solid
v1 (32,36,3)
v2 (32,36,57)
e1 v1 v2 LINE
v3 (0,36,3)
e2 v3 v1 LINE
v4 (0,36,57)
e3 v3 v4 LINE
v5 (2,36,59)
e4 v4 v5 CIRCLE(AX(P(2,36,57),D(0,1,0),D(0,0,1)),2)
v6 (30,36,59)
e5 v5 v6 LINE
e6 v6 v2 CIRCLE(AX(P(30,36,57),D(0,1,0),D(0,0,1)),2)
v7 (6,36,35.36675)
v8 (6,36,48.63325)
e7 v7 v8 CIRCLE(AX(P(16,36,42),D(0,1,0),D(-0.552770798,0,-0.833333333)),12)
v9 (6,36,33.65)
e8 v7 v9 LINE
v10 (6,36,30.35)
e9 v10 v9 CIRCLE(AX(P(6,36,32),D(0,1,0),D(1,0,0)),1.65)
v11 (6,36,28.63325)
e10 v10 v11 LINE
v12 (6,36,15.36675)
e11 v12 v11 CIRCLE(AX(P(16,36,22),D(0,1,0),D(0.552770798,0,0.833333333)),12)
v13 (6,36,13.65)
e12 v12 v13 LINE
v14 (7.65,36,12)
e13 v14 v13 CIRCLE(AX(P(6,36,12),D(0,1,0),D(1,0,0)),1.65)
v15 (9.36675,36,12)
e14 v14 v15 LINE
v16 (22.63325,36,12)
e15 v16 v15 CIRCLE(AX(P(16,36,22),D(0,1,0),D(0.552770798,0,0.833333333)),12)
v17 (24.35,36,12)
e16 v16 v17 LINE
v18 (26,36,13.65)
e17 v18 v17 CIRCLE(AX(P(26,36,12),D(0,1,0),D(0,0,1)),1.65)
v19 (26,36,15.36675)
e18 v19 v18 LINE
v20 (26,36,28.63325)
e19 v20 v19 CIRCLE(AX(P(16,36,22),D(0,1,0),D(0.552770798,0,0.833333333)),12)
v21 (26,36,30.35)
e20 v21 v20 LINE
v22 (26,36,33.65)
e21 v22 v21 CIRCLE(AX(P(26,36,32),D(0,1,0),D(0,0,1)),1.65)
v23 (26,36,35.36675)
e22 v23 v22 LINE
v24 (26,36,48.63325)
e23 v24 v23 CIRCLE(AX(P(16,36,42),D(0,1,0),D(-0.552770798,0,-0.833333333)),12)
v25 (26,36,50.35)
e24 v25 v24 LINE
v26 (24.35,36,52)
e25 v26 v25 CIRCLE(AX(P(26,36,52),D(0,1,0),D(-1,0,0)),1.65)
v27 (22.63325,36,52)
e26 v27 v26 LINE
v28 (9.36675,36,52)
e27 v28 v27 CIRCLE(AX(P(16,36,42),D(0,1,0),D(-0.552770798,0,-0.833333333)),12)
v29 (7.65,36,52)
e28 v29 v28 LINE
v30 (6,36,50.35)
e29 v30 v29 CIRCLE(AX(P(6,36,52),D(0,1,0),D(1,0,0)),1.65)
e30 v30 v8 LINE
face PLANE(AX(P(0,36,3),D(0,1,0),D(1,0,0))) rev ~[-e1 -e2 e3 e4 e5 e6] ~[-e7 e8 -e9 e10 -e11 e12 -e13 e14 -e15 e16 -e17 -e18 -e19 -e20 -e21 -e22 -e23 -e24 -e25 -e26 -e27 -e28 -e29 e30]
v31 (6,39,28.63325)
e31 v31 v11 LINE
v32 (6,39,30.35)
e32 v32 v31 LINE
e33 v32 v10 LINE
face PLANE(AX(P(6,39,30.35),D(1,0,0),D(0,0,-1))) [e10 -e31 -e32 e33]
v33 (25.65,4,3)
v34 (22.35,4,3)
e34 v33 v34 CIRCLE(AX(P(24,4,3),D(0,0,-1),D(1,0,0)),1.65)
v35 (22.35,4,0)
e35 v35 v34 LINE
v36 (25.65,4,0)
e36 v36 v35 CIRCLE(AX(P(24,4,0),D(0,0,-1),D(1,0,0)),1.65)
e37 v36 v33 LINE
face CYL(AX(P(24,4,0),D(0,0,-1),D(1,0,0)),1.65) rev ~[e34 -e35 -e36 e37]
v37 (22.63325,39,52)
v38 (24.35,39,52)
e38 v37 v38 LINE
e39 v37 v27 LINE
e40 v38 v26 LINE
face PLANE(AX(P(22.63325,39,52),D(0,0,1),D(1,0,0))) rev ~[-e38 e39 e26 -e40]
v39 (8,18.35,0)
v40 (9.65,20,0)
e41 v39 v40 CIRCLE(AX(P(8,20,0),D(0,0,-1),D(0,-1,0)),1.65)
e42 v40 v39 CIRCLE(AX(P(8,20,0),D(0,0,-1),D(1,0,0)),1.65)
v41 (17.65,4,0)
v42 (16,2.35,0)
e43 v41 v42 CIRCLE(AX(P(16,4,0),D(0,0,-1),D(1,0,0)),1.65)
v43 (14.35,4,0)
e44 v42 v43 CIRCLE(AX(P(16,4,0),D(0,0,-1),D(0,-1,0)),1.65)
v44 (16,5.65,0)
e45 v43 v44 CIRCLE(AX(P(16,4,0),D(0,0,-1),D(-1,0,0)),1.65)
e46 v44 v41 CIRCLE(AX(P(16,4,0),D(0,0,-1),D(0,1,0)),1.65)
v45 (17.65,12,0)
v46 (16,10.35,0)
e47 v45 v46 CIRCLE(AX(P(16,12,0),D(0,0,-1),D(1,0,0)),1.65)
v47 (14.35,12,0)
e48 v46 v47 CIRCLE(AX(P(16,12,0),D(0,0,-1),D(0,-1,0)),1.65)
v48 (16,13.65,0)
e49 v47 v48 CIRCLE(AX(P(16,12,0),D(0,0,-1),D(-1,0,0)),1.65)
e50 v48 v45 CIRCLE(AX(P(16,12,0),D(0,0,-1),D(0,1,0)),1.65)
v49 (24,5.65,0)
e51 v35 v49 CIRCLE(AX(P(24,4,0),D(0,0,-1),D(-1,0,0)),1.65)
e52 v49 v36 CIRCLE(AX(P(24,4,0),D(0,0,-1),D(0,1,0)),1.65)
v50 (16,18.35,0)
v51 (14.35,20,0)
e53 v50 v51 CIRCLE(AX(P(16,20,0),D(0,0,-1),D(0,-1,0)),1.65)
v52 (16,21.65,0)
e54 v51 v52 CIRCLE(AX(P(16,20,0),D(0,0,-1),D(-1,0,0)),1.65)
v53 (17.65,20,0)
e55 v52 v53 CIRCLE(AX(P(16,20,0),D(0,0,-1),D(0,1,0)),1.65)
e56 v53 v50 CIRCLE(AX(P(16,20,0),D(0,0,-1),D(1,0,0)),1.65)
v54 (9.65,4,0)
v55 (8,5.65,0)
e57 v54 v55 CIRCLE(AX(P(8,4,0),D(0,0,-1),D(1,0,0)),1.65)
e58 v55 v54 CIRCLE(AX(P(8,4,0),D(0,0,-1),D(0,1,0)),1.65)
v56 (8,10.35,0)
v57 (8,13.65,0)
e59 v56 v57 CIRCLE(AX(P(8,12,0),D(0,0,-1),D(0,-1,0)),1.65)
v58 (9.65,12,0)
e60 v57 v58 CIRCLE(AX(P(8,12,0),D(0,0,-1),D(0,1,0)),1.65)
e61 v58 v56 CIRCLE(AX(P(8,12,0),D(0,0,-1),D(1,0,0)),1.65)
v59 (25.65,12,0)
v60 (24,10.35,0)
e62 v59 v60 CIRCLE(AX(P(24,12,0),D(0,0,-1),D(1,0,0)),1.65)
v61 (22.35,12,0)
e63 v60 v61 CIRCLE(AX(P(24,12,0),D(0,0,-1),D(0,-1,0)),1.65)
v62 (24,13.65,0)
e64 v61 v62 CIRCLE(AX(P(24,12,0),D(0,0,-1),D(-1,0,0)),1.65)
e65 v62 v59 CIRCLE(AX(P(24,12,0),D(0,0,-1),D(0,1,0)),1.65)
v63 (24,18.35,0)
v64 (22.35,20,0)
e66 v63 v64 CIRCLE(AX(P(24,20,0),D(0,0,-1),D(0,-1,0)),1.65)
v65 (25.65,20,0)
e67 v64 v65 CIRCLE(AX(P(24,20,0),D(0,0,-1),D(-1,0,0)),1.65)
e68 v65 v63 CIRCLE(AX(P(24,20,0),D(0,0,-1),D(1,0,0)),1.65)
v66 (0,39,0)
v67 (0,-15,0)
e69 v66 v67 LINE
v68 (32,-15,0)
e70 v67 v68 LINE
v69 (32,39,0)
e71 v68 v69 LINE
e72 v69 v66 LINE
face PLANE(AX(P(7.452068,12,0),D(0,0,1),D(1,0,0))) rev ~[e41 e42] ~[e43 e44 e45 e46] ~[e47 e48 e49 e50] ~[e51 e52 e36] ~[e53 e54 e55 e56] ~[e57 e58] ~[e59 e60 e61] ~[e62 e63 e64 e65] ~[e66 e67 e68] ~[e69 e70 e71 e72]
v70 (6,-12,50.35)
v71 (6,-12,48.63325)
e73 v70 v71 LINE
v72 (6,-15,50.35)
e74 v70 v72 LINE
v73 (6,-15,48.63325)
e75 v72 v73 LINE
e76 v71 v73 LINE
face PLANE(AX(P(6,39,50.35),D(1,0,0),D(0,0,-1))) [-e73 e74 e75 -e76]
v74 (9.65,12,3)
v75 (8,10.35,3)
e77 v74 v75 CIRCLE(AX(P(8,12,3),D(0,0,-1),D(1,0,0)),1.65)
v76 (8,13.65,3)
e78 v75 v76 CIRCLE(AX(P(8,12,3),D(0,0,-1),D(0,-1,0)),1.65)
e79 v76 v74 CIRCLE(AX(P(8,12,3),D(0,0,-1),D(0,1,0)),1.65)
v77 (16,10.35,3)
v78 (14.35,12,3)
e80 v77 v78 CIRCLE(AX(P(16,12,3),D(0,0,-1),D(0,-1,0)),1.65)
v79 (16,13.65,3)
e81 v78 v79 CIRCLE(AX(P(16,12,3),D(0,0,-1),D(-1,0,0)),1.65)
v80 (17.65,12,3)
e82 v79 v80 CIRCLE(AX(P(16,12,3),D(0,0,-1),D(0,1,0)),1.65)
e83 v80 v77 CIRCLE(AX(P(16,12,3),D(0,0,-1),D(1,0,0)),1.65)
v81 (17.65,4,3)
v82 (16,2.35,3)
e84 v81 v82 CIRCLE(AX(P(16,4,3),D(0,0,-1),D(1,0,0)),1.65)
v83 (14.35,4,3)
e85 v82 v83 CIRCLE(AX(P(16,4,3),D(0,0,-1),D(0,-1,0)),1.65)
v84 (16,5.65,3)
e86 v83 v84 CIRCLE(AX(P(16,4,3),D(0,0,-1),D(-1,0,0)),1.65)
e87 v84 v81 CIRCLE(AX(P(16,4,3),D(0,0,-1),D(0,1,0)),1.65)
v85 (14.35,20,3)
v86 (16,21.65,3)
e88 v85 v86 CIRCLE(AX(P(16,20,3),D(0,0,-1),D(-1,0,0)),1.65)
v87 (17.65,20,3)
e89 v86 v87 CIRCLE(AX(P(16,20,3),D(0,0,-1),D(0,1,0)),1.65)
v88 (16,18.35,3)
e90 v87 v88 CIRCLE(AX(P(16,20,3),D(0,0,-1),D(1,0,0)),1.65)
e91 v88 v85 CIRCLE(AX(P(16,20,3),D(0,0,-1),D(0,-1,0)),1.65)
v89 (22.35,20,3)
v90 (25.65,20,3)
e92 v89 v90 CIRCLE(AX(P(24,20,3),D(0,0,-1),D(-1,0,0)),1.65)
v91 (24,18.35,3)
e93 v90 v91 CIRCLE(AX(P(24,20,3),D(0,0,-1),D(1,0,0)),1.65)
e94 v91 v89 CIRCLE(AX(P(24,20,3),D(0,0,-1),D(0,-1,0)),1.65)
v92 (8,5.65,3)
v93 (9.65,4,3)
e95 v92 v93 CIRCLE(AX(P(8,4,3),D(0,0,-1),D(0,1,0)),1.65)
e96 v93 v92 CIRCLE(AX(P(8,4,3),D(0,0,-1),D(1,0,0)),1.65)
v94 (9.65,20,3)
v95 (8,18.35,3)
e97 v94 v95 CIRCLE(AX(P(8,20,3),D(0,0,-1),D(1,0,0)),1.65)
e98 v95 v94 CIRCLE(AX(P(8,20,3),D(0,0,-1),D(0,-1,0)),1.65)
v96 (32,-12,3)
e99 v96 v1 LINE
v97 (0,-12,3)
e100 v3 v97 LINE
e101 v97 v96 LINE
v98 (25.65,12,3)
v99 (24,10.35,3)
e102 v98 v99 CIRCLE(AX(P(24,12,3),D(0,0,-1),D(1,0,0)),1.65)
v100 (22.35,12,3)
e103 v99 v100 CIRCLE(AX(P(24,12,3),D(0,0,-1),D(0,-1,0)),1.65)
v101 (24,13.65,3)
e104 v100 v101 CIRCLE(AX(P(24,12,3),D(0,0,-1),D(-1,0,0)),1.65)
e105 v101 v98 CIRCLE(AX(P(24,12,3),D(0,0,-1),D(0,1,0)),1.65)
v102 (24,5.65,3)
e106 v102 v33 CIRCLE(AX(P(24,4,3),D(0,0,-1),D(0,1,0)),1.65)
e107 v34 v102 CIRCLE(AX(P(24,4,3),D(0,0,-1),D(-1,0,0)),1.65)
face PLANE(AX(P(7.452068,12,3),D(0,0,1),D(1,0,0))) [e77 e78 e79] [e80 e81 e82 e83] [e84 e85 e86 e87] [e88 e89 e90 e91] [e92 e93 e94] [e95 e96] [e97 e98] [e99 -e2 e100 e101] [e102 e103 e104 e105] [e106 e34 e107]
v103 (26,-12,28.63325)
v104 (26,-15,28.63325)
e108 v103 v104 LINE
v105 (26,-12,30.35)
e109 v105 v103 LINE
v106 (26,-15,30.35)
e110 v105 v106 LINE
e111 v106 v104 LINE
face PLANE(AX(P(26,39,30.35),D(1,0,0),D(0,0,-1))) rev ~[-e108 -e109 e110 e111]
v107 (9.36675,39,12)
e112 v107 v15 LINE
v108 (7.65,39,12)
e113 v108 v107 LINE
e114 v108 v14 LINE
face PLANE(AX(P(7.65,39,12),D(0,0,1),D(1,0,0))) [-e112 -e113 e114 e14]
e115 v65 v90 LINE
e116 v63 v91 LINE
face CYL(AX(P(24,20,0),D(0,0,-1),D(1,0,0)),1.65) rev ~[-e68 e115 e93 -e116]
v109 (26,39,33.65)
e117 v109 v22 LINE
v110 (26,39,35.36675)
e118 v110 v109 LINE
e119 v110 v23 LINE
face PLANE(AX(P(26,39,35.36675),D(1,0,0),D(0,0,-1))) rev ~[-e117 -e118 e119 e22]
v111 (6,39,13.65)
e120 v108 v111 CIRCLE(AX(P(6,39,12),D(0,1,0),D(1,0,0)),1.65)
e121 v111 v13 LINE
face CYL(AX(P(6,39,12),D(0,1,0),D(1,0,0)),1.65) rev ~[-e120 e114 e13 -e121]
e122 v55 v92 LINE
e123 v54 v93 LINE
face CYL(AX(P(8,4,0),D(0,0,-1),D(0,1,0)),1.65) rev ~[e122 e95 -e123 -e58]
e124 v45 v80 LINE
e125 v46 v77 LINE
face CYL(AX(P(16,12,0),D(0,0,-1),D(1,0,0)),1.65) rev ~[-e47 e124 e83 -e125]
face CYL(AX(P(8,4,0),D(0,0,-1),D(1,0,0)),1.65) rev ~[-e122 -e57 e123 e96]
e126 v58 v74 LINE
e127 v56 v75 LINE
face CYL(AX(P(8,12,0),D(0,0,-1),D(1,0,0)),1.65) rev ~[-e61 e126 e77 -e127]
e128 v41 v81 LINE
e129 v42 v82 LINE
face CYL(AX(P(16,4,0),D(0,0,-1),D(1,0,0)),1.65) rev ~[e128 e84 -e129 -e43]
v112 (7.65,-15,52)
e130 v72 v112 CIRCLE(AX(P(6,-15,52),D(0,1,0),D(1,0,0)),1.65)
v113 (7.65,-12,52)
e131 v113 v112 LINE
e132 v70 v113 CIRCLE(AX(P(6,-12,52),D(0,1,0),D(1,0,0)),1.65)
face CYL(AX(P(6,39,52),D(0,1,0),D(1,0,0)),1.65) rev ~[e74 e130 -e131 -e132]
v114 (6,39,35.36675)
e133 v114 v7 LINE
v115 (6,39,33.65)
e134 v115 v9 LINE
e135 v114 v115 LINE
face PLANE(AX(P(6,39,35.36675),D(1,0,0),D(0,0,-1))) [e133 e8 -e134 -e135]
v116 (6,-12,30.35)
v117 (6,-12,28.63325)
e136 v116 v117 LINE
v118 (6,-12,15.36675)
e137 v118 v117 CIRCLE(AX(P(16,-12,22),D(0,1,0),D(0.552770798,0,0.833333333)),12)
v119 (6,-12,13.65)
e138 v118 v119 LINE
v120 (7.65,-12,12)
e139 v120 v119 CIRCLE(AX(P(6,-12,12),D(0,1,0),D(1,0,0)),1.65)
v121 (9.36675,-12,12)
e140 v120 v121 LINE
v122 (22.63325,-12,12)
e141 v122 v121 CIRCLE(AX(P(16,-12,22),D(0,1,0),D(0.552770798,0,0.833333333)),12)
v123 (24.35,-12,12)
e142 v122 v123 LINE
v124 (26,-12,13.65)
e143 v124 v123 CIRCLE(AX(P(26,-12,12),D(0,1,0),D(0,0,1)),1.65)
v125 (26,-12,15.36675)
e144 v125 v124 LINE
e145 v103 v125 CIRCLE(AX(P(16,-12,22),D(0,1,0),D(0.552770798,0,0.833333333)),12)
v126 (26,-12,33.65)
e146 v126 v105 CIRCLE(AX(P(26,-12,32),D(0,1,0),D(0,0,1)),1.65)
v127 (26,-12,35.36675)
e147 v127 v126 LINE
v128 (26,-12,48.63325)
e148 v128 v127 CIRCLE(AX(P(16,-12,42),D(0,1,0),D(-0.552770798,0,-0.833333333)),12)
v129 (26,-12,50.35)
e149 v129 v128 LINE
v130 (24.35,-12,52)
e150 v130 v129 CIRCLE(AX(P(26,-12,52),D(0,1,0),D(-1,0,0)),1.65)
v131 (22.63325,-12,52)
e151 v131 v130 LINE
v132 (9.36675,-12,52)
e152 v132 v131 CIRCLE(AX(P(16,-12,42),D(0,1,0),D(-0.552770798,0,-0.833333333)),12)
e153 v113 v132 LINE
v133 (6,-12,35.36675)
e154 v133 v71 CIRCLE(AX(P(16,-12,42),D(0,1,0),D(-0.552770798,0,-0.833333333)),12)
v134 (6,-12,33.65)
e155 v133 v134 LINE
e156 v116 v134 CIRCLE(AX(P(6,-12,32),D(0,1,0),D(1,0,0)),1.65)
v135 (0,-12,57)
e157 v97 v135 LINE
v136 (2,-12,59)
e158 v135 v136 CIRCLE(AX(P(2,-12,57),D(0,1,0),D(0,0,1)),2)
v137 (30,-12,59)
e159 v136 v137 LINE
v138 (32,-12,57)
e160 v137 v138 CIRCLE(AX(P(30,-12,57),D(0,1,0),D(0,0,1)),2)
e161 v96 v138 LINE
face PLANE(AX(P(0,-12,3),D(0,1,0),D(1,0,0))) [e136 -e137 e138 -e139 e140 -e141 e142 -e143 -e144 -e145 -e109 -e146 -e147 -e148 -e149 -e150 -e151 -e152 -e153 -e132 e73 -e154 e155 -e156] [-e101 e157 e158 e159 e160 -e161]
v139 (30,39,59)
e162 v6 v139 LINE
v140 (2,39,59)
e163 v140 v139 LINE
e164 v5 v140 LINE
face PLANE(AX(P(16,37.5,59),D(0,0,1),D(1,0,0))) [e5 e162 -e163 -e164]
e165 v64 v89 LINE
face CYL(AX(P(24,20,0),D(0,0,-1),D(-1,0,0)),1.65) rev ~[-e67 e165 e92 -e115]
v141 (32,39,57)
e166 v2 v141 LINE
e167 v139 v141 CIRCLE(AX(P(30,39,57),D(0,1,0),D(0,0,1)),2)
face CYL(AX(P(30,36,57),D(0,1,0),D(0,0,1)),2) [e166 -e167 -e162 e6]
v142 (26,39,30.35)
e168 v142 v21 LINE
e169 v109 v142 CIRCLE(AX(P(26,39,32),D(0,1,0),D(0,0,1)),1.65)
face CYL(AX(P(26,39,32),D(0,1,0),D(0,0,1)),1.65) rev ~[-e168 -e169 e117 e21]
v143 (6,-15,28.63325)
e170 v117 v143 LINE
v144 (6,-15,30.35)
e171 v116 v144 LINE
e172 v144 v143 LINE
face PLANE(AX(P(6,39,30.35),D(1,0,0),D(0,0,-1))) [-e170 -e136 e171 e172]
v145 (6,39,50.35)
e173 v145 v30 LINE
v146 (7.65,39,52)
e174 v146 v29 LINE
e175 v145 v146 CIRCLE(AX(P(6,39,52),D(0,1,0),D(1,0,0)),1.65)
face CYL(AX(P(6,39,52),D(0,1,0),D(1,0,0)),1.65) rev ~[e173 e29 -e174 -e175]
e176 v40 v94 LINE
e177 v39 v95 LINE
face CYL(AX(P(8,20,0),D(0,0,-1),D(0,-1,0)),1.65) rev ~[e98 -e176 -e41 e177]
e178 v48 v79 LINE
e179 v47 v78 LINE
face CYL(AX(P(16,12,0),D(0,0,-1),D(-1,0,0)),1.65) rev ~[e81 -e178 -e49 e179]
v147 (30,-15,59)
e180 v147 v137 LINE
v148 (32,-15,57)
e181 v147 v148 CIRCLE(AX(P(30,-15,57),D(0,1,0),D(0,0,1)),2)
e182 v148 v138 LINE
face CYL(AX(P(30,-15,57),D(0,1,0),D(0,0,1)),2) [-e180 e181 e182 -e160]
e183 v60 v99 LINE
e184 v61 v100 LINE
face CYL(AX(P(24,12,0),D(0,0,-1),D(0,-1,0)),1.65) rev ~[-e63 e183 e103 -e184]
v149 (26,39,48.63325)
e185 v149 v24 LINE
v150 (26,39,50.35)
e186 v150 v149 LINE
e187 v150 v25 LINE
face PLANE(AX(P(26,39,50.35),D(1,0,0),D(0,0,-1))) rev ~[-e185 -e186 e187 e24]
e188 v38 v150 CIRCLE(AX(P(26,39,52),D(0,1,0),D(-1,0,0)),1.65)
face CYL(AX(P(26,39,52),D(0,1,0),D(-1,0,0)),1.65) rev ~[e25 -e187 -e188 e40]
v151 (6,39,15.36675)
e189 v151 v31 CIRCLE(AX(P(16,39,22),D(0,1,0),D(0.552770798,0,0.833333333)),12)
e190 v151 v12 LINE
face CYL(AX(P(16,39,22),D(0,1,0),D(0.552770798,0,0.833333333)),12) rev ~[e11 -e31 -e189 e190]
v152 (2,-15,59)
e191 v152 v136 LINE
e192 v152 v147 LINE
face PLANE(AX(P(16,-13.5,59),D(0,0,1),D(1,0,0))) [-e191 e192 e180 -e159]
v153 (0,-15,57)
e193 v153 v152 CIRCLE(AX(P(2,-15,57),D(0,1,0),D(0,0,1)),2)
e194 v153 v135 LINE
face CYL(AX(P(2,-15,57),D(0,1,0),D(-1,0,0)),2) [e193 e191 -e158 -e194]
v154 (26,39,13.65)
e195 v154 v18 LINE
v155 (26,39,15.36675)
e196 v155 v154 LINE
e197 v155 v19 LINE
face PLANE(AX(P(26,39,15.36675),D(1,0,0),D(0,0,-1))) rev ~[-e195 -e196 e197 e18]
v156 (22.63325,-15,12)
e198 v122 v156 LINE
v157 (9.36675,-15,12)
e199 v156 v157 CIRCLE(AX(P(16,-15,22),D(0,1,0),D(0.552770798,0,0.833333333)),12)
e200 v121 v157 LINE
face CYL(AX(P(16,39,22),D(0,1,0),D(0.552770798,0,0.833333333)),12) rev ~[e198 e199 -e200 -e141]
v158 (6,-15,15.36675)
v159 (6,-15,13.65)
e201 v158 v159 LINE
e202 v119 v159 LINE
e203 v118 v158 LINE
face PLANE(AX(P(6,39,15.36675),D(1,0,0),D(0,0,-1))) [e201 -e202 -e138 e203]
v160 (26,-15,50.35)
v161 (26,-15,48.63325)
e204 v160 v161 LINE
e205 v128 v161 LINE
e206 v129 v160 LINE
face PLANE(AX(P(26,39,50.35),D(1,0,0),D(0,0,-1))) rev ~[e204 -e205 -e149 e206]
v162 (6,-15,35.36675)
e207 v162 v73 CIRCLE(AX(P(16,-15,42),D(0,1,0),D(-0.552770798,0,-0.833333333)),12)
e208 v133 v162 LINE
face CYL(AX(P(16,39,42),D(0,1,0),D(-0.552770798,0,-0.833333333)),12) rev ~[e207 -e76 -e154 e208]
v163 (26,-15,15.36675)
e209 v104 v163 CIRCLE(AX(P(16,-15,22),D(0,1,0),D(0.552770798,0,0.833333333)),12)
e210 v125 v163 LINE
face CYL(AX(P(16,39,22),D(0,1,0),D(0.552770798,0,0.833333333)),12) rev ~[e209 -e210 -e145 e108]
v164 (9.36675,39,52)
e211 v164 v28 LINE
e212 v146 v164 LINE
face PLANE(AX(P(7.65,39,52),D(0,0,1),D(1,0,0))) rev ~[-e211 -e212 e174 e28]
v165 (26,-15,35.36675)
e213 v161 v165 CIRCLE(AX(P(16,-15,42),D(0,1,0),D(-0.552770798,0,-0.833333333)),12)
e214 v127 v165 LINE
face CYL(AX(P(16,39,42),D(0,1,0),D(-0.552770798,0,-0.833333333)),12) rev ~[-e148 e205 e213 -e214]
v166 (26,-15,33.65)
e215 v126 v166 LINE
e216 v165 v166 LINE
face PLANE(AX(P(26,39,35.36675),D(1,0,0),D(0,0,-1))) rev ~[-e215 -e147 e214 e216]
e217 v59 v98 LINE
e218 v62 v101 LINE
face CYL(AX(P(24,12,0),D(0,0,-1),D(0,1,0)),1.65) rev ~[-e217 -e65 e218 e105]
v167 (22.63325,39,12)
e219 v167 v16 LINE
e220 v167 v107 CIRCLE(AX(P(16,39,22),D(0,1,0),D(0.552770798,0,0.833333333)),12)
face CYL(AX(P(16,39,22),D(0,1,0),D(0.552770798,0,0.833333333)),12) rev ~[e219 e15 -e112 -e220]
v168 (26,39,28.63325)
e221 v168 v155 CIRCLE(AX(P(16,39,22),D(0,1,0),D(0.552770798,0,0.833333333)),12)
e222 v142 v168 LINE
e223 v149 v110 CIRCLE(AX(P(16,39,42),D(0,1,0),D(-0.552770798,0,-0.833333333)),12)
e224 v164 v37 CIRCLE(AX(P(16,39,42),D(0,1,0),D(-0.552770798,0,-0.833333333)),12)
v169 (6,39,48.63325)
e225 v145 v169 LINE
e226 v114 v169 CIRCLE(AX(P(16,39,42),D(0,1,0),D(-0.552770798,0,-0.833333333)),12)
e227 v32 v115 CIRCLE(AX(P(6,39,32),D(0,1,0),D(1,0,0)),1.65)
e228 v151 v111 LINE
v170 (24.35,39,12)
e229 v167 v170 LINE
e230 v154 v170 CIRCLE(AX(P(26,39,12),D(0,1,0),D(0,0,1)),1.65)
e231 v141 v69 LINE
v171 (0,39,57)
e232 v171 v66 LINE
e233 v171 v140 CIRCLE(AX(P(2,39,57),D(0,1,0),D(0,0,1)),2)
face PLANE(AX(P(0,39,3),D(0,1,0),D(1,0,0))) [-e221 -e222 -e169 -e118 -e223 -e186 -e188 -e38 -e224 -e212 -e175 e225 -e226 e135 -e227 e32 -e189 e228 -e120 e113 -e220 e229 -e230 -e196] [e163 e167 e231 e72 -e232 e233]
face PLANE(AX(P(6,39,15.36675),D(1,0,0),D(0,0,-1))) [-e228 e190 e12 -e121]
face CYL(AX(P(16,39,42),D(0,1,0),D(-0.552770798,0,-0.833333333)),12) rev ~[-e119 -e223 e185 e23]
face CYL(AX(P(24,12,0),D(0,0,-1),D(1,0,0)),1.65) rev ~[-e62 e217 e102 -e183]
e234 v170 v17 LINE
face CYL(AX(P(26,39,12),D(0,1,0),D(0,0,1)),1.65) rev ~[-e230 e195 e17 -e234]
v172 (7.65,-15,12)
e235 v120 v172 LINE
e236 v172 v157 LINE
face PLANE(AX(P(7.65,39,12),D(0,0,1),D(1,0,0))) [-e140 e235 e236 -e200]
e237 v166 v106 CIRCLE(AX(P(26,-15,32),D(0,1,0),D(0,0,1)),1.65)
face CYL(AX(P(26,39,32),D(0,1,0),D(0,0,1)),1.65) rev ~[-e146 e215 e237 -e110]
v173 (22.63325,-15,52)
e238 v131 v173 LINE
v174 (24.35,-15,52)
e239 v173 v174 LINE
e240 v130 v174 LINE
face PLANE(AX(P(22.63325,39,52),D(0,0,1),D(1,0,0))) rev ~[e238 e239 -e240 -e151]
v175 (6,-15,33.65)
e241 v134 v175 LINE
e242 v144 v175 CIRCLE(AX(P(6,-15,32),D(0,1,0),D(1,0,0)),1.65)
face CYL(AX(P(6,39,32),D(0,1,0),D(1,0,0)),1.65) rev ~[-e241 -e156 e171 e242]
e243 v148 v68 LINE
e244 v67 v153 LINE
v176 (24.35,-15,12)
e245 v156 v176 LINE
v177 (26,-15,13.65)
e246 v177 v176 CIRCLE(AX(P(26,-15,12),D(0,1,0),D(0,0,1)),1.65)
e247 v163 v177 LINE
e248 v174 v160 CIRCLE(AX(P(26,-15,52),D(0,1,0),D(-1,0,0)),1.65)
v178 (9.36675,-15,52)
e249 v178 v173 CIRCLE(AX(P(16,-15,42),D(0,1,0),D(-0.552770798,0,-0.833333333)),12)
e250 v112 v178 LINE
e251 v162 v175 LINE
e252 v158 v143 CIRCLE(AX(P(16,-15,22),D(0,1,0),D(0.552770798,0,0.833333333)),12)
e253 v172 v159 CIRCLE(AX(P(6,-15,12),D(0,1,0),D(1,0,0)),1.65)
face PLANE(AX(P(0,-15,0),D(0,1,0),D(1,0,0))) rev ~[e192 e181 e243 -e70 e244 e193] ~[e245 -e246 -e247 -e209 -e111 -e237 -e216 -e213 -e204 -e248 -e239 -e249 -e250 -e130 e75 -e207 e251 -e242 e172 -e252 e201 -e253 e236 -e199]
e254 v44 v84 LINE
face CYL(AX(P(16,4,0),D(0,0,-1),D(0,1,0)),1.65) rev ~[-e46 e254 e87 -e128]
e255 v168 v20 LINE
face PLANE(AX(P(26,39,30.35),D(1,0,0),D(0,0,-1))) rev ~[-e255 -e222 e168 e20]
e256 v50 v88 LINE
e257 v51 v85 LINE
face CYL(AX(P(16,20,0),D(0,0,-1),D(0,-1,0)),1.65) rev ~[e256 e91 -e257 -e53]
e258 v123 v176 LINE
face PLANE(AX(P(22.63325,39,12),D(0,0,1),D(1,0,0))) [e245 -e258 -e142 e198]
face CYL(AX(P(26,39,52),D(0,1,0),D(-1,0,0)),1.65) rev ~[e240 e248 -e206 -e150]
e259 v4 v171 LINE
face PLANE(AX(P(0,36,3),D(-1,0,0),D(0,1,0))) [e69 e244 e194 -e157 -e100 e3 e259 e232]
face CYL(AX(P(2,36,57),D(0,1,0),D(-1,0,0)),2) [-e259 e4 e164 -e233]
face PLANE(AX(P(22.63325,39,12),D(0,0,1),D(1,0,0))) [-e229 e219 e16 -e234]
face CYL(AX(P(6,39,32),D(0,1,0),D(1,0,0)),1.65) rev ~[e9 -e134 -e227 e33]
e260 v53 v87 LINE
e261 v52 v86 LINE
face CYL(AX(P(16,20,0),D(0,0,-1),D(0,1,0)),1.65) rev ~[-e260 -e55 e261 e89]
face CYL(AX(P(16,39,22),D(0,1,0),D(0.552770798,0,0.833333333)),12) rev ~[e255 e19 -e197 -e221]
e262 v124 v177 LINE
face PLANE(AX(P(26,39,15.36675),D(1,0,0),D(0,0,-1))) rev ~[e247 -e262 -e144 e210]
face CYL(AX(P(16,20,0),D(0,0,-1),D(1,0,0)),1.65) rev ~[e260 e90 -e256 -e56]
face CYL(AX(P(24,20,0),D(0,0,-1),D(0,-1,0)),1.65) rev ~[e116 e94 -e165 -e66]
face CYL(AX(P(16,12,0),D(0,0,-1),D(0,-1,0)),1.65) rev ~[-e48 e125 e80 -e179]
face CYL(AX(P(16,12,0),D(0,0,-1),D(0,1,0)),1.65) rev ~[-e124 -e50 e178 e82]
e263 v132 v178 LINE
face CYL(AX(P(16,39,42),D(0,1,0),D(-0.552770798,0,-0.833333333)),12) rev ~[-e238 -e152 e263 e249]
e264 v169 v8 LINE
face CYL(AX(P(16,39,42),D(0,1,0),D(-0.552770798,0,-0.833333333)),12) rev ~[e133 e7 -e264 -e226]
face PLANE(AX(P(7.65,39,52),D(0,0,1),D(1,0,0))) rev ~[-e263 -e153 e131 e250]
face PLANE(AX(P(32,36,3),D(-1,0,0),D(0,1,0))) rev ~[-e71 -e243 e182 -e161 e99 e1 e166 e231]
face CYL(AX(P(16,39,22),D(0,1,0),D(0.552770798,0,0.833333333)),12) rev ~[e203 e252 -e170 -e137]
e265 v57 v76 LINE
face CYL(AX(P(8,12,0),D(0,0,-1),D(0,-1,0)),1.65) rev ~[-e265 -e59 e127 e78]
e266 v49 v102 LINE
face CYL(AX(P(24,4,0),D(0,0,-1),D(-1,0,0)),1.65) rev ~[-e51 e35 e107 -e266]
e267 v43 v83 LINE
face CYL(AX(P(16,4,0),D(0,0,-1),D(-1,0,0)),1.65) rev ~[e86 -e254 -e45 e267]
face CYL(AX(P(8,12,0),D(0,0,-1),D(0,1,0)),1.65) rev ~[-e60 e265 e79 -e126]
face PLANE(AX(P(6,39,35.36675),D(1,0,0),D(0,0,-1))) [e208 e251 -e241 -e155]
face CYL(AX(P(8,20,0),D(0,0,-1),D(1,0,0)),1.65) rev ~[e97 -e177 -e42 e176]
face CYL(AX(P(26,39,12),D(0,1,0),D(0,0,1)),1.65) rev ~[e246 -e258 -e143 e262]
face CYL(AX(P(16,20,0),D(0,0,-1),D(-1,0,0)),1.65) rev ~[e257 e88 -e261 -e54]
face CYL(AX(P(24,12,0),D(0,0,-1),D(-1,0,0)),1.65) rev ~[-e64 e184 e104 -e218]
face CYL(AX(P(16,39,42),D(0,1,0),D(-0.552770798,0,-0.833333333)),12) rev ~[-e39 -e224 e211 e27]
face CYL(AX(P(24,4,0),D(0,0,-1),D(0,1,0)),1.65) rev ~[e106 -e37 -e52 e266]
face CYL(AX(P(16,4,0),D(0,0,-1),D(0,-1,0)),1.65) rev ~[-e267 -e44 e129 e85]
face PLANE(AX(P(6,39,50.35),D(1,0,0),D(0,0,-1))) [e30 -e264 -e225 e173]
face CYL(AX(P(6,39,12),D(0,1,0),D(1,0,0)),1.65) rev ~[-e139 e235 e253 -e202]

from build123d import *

# Parameters (mm, degrees)
EXTRUDE_1_DEPTH     = 3
SKETCH_2_W          = 32
SKETCH_2_H          = 3
EXTRUDE_2_DEPTH     = 56
SKETCH_3_R          = 1.65
SKETCH_3_R_2        = 12
SKETCH_3_W          = 20
SKETCH_3_H          = 40
CUT_EXTRUDE_2_DEPTH = 58
FILLET_1_R          = 2


with BuildPart() as part:
    # 草图1 → 凸台-拉伸1 (new body)
    with BuildSketch(Plane.XY):
        with BuildLine():
            Line((0, 12), (0, 0))
            Line((0, 0), (0, -15))
            Line((0, -15), (16, -15))
            Line((16, -15), (16, 2.35))
            ThreePointArc((16, 2.35), (14.833273811, 2.833273811), (14.35, 4))
            Line((14.35, 4), (9.65, 4))
            ThreePointArc((9.65, 4), (6.833273811, 2.833273811), (8, 5.65))
            Line((8, 5.65), (8, 10.35))
            ThreePointArc((8, 10.35), (6.35, 12), (8, 13.65))
            Line((8, 13.65), (8, 18.35))
            ThreePointArc((8, 18.35), (6.833273811, 21.166726189), (9.65, 20))
            Line((9.65, 20), (14.35, 20))
            ThreePointArc((14.35, 20), (14.833273811, 21.166726189), (16, 21.65))
            Line((16, 21.65), (16, 39))
            Line((16, 39), (0, 39))
            Line((0, 39), (0, 24))
            Line((0, 24), (0, 12))
        make_face()
        with BuildLine():
            Line((32, 39), (16, 39))
            Line((16, 39), (16, 21.65))
            ThreePointArc((16, 21.65), (17.166726189, 21.166726189), (17.65, 20))
            Line((17.65, 20), (22.35, 20))
            ThreePointArc((22.35, 20), (24, 21.65), (25.65, 20))
            ThreePointArc((25.65, 20), (25.166726189, 18.833273811), (24, 18.35))
            Line((24, 18.35), (24, 13.65))
            ThreePointArc((24, 13.65), (25.166726189, 13.166726189), (25.65, 12))
            Line((25.65, 12), (32, 12))
            Line((32, 12), (32, 24))
            Line((32, 24), (32, 39))
        make_face()
        with BuildLine():
            Line((16, 2.35), (16, -15))
            Line((16, -15), (32, -15))
            Line((32, -15), (32, 0))
            Line((32, 0), (32, 12))
            Line((32, 12), (25.65, 12))
            ThreePointArc((25.65, 12), (25.166726189, 10.833273811), (24, 10.35))
            Line((24, 10.35), (24, 5.65))
            ThreePointArc((24, 5.65), (25.166726189, 5.166726189), (25.65, 4))
            ThreePointArc((25.65, 4), (24, 2.35), (22.35, 4))
            Line((22.35, 4), (17.65, 4))
            ThreePointArc((17.65, 4), (17.166726189, 2.833273811), (16, 2.35))
        make_face()
        with BuildLine():
            ThreePointArc((16, 18.35), (14.833273811, 18.833273811), (14.35, 20))
            Line((14.35, 20), (9.65, 20))
            ThreePointArc((9.65, 20), (9.166726189, 18.833273811), (8, 18.35))
            Line((8, 18.35), (8, 13.65))
            ThreePointArc((8, 13.65), (9.166726189, 13.166726189), (9.65, 12))
            Line((9.65, 12), (14.35, 12))
            ThreePointArc((14.35, 12), (14.833273811, 13.166726189), (16, 13.65))
            Line((16, 13.65), (16, 18.35))
        make_face()
        with BuildLine():
            Line((22.35, 20), (17.65, 20))
            ThreePointArc((17.65, 20), (17.166726189, 18.833273811), (16, 18.35))
            Line((16, 18.35), (16, 13.65))
            ThreePointArc((16, 13.65), (17.166726189, 13.166726189), (17.65, 12))
            Line((17.65, 12), (22.35, 12))
            ThreePointArc((22.35, 12), (22.833273811, 13.166726189), (24, 13.65))
            Line((24, 13.65), (24, 18.35))
            ThreePointArc((24, 18.35), (22.833273811, 18.833273811), (22.35, 20))
        make_face()
        with BuildLine():
            Line((9.65, 4), (14.35, 4))
            ThreePointArc((14.35, 4), (14.833273811, 5.166726189), (16, 5.65))
            Line((16, 5.65), (16, 10.35))
            ThreePointArc((16, 10.35), (14.833273811, 10.833273811), (14.35, 12))
            Line((14.35, 12), (9.65, 12))
            ThreePointArc((9.65, 12), (9.166726189, 10.833273811), (8, 10.35))
            Line((8, 10.35), (8, 5.65))
            ThreePointArc((8, 5.65), (9.166726189, 5.166726189), (9.65, 4))
        make_face()
        with BuildLine():
            ThreePointArc((16, 5.65), (17.166726189, 5.166726189), (17.65, 4))
            Line((17.65, 4), (22.35, 4))
            ThreePointArc((22.35, 4), (22.833273811, 5.166726189), (24, 5.65))
            Line((24, 5.65), (24, 10.35))
            ThreePointArc((24, 10.35), (22.833273811, 10.833273811), (22.35, 12))
            Line((22.35, 12), (17.65, 12))
            ThreePointArc((17.65, 12), (17.166726189, 10.833273811), (16, 10.35))
            Line((16, 10.35), (16, 5.65))
        make_face()
    extrude(amount=EXTRUDE_1_DEPTH)

    # 草图2 → 凸台-拉伸2 (add)
    with BuildSketch(Plane.XY.offset(3)):
        with Locations((16, 37.5)):
            Rectangle(SKETCH_2_W, SKETCH_2_H)
        with Locations((16, -13.5)):
            Rectangle(SKETCH_2_W, SKETCH_2_H)
    extrude(amount=EXTRUDE_2_DEPTH)

    # 草图3 → 切除-拉伸2 (cut)
    with BuildSketch(Plane(origin=(0, 39, 0), x_dir=(1, 0, 0), z_dir=(0, 1, 0))):
        with Locations((6, -52)):
            Circle(SKETCH_3_R)
        with Locations((6, -32)):
            Circle(SKETCH_3_R)
        with Locations((6, -12)):
            Circle(SKETCH_3_R)
        with Locations((26, -12)):
            Circle(SKETCH_3_R)
        with Locations((26, -52)):
            Circle(SKETCH_3_R)
        with Locations((26, -32)):
            Circle(SKETCH_3_R)
        with Locations((16, -42)):
            Circle(SKETCH_3_R_2)
        with Locations((16, -22)):
            Circle(SKETCH_3_R_2)
        with Locations((16, -32)):
            Rectangle(SKETCH_3_W, SKETCH_3_H)
    extrude(amount=-CUT_EXTRUDE_2_DEPTH, mode=Mode.SUBTRACT)

    # 圆角1
    fillet_1_edges = [part.edges().sort_by_distance(p)[0] for p in [
        (0, 37.5, 59),
        (32, 37.5, 59),
        (32, -13.5, 59),
        (0, -13.5, 59),
    ]]
    fillet(fillet_1_edges, radius=FILLET_1_R)


solid = part.part
